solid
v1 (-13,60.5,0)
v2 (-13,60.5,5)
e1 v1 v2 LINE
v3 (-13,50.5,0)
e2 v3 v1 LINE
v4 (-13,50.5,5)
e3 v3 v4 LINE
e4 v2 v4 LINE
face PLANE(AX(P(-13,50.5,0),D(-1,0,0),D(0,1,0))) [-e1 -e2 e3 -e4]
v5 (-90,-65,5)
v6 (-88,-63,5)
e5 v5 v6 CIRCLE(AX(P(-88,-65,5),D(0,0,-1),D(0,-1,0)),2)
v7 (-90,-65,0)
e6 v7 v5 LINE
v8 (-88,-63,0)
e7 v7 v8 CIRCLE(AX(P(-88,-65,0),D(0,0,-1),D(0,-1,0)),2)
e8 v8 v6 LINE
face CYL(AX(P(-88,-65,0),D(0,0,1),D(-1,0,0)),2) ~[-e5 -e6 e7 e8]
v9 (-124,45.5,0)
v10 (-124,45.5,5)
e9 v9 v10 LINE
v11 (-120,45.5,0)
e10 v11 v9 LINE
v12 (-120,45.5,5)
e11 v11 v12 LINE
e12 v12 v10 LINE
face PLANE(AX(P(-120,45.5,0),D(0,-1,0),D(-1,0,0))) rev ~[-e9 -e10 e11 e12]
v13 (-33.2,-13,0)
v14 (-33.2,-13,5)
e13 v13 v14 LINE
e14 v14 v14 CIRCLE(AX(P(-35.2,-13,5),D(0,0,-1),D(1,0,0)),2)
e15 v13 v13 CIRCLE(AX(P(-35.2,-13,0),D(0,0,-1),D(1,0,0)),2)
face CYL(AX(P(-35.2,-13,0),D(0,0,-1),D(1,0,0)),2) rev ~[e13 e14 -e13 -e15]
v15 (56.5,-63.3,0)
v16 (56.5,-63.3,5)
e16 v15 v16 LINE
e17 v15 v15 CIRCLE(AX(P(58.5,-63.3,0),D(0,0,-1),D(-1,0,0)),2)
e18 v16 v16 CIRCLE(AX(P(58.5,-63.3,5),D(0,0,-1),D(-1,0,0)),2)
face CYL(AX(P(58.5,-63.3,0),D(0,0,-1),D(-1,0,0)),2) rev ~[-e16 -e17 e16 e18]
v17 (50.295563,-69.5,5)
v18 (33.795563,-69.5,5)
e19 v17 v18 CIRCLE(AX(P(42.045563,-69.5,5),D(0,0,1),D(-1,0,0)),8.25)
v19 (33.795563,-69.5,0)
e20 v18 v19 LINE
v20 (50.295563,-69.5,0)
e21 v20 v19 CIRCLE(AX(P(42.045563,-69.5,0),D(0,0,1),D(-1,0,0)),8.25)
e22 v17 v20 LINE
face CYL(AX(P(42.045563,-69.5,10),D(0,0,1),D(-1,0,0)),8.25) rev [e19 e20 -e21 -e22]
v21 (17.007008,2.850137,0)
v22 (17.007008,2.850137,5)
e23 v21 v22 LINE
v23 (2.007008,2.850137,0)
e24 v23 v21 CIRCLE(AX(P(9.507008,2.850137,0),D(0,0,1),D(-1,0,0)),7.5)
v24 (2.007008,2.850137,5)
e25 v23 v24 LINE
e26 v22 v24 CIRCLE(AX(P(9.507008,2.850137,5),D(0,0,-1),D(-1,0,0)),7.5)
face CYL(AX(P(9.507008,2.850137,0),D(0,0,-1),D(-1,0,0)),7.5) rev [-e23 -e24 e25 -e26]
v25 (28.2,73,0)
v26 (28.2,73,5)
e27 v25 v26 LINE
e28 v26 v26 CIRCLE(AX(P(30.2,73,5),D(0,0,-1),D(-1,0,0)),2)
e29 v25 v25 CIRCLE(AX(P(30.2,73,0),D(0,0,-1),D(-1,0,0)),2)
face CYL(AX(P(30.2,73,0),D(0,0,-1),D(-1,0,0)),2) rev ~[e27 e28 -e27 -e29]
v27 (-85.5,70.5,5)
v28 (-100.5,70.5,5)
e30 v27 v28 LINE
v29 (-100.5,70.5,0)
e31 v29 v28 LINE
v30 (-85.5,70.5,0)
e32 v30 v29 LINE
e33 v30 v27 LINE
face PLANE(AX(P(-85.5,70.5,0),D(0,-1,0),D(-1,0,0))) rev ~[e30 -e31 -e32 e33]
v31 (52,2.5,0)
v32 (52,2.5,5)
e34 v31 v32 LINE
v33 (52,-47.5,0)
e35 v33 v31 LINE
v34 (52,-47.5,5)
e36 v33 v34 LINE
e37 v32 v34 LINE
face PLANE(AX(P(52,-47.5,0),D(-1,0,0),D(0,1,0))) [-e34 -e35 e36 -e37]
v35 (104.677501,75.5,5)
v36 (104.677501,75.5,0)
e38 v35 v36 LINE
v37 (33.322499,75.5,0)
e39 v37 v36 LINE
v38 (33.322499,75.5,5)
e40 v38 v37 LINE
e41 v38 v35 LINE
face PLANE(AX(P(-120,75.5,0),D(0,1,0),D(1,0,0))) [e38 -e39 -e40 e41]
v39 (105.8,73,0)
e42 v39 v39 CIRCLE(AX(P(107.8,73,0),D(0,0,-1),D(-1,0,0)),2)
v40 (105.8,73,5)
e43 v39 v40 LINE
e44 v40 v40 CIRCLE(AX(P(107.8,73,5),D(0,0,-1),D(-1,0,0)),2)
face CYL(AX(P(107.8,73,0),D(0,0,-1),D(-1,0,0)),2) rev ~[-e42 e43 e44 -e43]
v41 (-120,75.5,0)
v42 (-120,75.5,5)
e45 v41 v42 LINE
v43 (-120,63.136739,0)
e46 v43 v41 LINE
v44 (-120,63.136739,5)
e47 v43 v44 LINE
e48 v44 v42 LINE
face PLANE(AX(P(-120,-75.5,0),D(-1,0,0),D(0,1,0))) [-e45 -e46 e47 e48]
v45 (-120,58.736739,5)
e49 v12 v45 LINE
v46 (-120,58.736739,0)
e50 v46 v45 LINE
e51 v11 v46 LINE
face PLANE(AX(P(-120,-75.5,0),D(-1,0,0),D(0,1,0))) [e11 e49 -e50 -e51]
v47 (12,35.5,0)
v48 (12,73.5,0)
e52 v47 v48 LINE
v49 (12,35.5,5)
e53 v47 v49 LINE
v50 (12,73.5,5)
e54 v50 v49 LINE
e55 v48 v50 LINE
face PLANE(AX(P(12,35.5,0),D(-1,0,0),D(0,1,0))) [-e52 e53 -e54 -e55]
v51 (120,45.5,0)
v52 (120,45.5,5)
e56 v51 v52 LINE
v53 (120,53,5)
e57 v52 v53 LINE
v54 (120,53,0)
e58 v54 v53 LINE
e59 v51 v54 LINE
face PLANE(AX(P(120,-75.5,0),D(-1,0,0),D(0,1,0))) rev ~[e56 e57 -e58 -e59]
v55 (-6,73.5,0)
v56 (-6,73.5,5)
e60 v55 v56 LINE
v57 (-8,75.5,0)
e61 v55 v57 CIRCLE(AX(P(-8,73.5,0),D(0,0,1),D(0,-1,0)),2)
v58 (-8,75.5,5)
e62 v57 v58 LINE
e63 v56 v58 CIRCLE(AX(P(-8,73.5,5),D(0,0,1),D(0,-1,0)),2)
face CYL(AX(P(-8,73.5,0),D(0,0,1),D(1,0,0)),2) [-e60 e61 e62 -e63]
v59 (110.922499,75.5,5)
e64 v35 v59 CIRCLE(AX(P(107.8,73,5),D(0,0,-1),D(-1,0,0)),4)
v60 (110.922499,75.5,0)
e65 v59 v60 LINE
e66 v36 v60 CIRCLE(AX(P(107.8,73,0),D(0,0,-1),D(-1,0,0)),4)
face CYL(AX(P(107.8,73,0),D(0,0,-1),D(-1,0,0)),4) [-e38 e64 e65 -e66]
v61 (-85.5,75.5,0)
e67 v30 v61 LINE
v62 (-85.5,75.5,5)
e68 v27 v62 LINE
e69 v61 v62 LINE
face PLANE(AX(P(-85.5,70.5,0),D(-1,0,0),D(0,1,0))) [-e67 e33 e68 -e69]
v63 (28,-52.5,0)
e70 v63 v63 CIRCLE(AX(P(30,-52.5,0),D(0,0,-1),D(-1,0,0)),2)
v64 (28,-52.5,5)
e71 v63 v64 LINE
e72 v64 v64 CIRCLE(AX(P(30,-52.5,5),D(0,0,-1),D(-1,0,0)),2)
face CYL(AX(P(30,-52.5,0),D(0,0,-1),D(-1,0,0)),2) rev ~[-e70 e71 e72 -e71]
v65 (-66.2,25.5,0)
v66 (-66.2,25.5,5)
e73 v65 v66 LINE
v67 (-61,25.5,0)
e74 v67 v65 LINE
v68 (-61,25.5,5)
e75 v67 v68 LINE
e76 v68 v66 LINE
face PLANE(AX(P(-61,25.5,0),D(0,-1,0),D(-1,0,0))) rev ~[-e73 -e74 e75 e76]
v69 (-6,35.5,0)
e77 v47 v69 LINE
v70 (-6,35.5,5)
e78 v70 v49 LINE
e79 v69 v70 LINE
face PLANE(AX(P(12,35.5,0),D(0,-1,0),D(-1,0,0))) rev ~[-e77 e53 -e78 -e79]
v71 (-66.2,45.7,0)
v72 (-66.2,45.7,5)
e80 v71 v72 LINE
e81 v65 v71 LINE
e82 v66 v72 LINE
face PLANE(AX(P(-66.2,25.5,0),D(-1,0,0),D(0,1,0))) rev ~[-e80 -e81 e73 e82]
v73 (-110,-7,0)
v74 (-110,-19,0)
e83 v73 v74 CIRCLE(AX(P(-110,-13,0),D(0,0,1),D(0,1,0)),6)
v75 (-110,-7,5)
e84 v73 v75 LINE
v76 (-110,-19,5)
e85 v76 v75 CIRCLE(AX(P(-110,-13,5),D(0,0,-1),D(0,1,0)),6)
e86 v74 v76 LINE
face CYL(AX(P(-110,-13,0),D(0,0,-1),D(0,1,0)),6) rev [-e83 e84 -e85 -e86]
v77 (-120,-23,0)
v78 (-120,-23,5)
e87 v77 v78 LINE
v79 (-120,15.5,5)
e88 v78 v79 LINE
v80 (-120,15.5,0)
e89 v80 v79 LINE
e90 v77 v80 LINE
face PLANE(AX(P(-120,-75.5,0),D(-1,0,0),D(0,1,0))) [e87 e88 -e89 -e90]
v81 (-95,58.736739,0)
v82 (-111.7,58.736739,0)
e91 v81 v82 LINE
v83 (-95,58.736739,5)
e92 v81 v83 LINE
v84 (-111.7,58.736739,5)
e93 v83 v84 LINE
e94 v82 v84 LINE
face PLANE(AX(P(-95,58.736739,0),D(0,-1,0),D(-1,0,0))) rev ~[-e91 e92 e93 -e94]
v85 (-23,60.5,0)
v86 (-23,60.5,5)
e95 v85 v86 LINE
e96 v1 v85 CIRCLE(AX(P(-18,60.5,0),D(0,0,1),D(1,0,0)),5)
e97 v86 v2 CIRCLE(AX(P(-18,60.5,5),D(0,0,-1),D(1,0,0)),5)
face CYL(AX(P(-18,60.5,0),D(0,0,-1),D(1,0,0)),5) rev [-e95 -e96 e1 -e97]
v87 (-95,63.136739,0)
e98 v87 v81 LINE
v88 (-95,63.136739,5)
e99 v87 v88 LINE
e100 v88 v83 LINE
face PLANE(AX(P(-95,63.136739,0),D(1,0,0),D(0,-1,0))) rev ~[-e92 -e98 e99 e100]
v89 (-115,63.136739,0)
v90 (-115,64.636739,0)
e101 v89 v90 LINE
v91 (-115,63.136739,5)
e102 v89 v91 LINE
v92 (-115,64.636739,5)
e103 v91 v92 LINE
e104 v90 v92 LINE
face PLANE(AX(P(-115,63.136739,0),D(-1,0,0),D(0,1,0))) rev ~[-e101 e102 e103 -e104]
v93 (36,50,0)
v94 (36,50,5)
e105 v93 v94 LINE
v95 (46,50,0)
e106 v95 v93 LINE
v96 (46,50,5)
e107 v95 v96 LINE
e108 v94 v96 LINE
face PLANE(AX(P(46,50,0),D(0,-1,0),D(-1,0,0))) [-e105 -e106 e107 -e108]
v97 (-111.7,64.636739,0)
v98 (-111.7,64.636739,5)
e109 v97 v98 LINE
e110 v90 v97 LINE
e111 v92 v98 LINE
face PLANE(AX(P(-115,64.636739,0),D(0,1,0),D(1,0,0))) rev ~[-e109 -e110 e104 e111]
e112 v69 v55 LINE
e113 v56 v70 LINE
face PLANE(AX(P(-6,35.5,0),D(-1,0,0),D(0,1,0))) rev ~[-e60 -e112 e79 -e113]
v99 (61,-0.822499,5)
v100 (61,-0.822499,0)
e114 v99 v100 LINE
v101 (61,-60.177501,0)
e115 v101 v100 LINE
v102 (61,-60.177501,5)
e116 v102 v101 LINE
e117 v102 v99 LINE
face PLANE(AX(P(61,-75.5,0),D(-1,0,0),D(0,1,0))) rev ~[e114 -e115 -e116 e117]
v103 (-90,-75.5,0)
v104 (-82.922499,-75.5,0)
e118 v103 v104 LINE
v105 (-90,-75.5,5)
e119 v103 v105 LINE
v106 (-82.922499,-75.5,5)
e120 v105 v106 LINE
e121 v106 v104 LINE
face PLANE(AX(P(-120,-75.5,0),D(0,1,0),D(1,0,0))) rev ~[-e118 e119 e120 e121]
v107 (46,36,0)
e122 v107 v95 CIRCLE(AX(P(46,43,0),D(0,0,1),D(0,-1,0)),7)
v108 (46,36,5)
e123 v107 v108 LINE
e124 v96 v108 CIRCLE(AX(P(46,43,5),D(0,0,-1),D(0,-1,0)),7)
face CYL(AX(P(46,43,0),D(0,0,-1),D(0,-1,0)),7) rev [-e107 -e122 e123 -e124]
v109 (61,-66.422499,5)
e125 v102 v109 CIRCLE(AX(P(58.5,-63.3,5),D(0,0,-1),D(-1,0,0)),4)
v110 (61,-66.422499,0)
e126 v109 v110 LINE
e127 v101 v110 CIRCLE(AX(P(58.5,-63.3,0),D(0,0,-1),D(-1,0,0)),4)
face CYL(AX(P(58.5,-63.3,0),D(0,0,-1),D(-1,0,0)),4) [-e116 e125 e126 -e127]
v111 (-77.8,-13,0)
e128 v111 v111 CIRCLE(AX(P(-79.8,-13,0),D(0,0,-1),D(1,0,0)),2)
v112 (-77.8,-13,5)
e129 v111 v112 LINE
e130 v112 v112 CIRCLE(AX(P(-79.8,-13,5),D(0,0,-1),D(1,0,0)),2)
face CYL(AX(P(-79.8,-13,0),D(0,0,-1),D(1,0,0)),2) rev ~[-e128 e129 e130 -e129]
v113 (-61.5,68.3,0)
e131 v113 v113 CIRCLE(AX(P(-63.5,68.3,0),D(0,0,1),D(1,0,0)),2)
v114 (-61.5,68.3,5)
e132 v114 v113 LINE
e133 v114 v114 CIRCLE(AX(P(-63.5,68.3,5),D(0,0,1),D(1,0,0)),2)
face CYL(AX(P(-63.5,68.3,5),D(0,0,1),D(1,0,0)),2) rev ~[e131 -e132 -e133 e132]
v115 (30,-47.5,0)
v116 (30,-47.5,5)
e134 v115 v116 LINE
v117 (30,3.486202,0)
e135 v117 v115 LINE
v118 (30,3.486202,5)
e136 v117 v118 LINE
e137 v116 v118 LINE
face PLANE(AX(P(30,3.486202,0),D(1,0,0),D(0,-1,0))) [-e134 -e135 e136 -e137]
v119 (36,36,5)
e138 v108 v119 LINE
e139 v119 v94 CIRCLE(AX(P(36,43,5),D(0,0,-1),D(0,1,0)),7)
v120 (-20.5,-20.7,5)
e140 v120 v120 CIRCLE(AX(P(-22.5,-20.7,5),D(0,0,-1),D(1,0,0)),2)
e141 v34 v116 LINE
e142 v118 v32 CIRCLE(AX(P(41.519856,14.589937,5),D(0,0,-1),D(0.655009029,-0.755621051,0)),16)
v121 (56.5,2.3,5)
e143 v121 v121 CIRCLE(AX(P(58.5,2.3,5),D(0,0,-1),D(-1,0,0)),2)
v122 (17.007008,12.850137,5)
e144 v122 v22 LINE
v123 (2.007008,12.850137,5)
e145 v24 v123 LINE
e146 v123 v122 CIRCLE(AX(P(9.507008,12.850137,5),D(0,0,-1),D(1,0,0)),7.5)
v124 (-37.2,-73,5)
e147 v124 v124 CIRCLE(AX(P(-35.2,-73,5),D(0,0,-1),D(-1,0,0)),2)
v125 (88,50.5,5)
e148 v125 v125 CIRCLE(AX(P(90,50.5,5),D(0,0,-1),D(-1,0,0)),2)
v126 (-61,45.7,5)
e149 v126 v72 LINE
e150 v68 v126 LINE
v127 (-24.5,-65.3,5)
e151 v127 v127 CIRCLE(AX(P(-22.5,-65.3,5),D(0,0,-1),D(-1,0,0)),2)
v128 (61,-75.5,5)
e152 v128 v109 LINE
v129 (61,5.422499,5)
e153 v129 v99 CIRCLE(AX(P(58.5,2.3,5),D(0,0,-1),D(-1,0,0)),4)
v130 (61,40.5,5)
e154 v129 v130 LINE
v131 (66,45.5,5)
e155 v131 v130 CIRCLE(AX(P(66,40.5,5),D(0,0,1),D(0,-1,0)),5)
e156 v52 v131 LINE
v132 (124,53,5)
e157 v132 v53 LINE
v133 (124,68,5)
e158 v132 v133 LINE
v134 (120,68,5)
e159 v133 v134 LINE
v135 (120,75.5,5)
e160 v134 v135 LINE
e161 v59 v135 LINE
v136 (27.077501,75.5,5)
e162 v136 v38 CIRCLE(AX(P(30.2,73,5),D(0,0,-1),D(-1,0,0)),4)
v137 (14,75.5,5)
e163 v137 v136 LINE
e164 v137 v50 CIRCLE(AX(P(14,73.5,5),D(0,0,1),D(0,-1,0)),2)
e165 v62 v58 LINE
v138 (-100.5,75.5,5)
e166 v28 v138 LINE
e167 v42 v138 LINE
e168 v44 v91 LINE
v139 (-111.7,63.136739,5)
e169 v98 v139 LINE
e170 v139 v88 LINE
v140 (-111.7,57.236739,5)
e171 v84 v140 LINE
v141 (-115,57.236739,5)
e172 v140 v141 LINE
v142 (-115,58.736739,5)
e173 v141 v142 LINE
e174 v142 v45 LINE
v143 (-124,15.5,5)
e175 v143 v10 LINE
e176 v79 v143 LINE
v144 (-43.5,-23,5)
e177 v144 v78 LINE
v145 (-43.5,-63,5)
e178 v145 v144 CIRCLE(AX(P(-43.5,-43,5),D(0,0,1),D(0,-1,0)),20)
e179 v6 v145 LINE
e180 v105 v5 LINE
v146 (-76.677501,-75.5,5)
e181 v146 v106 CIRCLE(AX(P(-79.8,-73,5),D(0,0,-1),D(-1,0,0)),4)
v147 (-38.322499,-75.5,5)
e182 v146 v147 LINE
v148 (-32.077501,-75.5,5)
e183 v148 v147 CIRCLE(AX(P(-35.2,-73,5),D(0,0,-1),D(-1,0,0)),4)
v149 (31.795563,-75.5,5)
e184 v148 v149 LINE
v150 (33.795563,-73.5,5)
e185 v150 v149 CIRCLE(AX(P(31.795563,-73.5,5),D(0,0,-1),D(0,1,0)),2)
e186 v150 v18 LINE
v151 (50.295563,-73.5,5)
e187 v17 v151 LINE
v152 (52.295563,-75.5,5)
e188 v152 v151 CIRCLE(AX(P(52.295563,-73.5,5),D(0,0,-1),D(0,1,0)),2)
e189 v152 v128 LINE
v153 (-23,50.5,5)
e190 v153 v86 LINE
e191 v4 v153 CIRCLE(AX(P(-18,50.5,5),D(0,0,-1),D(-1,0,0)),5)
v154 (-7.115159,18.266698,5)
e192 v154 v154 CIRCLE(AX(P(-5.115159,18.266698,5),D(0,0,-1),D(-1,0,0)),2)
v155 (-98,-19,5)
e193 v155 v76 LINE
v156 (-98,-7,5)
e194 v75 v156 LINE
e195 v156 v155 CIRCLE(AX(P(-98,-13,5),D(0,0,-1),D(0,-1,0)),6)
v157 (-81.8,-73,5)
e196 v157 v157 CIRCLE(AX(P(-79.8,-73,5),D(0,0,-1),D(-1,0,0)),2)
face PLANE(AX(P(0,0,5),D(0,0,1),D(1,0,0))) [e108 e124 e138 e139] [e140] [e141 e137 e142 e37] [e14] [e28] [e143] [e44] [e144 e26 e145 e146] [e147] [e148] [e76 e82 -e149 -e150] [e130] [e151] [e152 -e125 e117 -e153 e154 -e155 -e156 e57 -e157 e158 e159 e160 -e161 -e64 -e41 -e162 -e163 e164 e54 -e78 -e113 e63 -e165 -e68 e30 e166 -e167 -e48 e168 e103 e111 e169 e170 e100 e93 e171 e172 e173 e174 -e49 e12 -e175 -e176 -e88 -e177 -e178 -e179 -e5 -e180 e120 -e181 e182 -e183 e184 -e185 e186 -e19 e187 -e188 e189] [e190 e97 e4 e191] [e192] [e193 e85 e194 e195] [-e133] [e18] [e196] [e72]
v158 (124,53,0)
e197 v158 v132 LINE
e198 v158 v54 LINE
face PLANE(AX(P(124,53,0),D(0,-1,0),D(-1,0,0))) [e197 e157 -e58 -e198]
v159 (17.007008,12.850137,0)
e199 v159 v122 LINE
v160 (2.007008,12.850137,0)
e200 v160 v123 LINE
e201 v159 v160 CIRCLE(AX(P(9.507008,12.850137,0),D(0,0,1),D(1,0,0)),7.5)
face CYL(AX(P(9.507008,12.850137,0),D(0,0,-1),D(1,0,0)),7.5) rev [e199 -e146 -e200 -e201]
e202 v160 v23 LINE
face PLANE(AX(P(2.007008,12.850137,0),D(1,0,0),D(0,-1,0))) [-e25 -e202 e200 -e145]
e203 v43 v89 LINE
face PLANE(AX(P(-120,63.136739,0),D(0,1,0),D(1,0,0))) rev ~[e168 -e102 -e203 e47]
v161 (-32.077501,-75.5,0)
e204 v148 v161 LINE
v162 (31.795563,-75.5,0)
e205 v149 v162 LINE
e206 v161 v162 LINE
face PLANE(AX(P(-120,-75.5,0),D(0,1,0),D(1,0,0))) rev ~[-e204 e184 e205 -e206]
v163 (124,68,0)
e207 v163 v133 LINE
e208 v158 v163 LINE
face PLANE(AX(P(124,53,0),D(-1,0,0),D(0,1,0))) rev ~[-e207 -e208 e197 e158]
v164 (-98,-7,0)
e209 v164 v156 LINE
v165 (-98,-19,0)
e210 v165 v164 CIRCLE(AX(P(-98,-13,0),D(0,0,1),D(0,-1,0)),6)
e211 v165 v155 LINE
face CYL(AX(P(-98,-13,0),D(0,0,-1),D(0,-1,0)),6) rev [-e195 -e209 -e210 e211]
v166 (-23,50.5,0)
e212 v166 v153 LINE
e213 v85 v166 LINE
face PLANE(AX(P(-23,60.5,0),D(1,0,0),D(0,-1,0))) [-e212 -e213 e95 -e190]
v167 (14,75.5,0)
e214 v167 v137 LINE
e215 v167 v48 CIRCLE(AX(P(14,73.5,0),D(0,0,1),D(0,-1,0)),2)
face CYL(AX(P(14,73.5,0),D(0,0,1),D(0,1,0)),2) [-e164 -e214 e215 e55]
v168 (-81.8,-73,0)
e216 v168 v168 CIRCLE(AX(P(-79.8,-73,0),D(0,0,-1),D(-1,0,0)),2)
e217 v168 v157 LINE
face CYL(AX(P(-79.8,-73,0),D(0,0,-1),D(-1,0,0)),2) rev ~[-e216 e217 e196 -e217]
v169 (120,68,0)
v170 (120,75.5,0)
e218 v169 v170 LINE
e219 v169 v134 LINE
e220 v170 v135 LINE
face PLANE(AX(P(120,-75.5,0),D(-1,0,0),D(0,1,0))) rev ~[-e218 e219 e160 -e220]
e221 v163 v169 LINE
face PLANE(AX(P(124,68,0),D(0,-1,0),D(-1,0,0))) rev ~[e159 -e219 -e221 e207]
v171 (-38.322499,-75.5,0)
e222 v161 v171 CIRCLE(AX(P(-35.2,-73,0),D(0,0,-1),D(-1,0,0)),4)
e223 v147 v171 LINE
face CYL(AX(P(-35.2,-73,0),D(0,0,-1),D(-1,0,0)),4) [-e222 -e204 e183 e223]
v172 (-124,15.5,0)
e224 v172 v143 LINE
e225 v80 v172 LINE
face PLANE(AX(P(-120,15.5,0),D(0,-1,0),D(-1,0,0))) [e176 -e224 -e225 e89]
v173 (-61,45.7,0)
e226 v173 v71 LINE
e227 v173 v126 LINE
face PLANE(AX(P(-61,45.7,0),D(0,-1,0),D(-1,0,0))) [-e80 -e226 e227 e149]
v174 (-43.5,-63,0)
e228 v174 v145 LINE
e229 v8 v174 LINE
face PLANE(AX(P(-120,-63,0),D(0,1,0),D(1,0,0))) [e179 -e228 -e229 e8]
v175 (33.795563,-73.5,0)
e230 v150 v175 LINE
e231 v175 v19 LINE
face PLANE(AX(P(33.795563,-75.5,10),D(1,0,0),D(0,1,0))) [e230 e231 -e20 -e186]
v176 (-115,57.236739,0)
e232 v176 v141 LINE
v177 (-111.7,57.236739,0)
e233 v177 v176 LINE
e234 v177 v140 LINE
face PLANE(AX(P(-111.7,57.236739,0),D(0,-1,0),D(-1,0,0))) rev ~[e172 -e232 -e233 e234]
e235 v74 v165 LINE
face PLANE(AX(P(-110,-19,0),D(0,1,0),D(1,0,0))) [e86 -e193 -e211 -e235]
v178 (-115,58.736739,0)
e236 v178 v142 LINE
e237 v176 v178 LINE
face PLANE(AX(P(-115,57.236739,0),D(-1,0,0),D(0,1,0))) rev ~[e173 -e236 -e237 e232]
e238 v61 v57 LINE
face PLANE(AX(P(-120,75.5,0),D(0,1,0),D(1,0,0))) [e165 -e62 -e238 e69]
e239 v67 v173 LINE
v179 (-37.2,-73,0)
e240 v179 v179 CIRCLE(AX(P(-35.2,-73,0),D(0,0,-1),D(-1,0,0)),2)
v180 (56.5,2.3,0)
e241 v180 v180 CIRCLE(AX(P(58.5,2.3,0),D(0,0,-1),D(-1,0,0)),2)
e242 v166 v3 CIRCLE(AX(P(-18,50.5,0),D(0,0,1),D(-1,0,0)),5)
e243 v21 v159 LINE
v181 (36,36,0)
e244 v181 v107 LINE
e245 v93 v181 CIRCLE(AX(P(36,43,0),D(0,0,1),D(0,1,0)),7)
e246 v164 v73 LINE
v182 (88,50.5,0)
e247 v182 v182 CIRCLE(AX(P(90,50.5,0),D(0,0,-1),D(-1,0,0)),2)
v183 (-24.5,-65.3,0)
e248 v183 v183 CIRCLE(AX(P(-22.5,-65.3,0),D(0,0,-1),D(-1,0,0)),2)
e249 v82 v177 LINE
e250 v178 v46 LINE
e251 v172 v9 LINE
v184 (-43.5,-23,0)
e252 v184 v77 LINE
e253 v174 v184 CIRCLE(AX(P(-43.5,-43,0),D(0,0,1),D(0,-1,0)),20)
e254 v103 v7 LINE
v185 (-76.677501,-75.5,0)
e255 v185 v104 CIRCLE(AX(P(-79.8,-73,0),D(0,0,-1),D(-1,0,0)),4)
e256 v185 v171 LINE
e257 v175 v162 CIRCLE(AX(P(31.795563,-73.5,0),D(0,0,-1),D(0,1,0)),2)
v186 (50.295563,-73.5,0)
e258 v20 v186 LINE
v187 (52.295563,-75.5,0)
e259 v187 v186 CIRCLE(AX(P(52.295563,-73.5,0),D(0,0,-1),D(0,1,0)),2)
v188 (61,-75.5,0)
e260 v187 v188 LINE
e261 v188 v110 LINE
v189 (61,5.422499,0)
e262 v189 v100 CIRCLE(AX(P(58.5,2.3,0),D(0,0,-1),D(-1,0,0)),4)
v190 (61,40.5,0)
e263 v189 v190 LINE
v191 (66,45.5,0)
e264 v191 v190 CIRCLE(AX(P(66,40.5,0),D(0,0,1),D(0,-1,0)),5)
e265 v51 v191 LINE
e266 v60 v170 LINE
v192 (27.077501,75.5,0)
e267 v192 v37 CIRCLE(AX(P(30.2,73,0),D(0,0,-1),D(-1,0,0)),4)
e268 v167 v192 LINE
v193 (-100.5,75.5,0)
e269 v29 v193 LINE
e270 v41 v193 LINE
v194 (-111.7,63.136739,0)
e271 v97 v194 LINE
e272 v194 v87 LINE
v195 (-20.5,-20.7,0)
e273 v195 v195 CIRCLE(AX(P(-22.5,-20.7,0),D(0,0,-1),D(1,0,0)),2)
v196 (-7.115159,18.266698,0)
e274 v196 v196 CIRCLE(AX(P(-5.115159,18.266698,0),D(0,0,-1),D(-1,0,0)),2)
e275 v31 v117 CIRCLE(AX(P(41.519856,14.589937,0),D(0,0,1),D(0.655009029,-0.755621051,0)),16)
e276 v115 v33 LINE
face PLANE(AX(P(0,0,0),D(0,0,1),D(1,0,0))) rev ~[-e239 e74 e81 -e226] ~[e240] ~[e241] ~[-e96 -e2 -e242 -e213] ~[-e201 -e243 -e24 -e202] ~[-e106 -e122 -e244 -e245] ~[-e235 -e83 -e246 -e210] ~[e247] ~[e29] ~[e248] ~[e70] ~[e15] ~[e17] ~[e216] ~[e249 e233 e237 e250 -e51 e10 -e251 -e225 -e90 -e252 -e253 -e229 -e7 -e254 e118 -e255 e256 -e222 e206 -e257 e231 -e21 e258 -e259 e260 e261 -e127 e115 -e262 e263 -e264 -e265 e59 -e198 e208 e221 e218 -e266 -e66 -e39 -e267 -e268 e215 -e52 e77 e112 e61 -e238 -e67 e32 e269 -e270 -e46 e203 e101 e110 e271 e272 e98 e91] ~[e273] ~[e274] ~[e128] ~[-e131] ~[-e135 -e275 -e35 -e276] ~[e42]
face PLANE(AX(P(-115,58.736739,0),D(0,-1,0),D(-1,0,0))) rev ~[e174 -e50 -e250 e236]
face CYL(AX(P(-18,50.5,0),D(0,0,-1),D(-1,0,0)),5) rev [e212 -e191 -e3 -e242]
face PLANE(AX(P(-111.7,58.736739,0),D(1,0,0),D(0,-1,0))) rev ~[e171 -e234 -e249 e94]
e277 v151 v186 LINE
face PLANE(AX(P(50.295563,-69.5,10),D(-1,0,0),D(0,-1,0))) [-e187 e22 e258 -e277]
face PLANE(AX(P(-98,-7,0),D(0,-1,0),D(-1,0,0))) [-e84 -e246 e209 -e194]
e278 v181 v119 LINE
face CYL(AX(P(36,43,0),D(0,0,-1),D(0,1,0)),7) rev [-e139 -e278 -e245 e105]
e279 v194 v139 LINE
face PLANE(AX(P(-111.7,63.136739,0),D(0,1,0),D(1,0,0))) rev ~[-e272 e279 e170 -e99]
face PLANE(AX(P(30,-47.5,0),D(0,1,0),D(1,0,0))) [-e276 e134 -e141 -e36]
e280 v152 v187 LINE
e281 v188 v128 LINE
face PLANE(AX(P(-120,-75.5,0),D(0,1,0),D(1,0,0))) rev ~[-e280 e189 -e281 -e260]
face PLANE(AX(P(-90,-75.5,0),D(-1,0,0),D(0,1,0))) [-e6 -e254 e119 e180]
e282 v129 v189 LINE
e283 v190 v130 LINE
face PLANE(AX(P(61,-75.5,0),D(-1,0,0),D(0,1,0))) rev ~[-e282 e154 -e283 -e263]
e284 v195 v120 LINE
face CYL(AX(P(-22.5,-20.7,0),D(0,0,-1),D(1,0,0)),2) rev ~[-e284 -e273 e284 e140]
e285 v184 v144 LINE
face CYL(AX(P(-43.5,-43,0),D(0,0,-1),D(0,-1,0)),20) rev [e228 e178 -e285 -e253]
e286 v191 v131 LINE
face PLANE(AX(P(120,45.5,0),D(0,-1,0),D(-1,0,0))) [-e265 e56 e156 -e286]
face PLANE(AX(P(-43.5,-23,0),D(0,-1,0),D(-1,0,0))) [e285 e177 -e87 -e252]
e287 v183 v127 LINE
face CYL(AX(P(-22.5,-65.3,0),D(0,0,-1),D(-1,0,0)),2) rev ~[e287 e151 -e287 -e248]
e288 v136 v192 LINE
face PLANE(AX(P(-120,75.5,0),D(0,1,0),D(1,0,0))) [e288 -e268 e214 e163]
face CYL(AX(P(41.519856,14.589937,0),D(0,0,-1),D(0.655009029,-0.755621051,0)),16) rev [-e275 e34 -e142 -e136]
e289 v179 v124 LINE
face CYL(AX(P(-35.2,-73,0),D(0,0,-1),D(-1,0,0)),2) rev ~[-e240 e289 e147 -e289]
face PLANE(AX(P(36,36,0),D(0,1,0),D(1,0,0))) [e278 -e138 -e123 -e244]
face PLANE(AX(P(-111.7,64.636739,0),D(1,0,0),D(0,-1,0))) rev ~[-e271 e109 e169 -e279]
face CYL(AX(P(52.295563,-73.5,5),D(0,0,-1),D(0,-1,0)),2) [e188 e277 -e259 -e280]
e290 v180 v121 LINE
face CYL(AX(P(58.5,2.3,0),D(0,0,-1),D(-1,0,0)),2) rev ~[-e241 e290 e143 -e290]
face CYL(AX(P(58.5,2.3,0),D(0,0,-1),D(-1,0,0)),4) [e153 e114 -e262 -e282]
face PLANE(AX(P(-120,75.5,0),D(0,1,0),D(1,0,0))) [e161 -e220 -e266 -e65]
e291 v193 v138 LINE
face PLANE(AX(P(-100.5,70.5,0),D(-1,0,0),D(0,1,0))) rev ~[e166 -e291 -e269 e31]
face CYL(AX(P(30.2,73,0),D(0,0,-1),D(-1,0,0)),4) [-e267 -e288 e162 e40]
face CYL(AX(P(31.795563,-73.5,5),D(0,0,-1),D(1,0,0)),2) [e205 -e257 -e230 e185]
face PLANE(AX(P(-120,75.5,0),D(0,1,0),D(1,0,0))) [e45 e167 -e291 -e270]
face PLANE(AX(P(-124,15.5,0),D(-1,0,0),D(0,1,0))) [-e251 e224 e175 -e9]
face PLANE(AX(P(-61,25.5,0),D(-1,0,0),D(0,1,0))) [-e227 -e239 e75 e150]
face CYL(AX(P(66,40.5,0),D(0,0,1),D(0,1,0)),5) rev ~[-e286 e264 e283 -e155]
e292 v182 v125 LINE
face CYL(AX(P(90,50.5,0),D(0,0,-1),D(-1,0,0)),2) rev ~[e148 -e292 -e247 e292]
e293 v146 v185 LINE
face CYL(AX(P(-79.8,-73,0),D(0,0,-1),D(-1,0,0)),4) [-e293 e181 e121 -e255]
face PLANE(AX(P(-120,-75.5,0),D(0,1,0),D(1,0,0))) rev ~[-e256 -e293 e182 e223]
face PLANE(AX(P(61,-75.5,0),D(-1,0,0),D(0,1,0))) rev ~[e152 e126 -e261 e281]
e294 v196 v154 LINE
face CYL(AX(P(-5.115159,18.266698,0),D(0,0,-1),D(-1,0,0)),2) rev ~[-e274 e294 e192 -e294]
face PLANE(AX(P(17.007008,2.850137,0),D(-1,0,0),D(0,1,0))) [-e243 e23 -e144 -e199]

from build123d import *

# Parameters (mm, degrees)
SKETCH1_W                = 240
SKETCH1_H                = 151
BOSS_EXTRUDE1_DEPTH      = 5
SKETCH5_R                = 2
CUT_EXTRUDE1_DEPTH       = 5
SKETCH6_R                = 4
SKETCH6_R_2              = 2
BOSS_EXTRUDE2_DEPTH      = 5
CUT_EXTRUDE2_DEPTH       = 5
SKETCH8_W                = 30
SKETCH8_H                = 12.5
CUT_EXTRUDE3_DEPTH       = 5
SKETCH9_W                = 59
SKETCH9_H                = 121
CUT_EXTRUDE4_DEPTH       = 5
SKETCH12_W               = 18
SKETCH12_H               = 40
CUT_EXTRUDE7_DEPTH       = 10
SKETCH15_R               = 2
CUT_EXTRUDE9_DEPTH       = 5
SKETCH16_W               = 5.2
SKETCH16_H               = 20.2
CUT_EXTRUDE10_DEPTH      = 5
CUT_EXTRUDE11_DEPTH      = 10
CUT_EXTRUDE13_DEPTH      = 143.667445481
CUT_EXTRUDE13_DEPTH_BACK = 10
SKETCH23_R               = 2
CUT_EXTRUDE16_DEPTH      = 5
SKETCH24_R               = 4
SKETCH24_R_2             = 2
BOSS_EXTRUDE4_DEPTH      = 5
CUT_EXTRUDE19_DEPTH      = 10
SKETCH32_W               = 4
SKETCH32_H               = 30
SKETCH32_H_2             = 15
BOSS_EXTRUDE6_DEPTH      = 5
FILLET1_R                = 5
FILLET2_R                = 2
CUT_EXTRUDE22_DEPTH      = 5
SKETCH37_R               = 2
CUT_EXTRUDE25_DEPTH      = 10
SKETCH38_R               = 2
CUT_EXTRUDE26_DEPTH      = 10
CUT_EXTRUDE29_DEPTH      = 10
SKETCH43_R               = 2
CUT_EXTRUDE30_DEPTH      = 10
SKETCH44_R               = 4
SKETCH44_R_2             = 2
BOSS_EXTRUDE7_DEPTH      = 5
CUT_EXTRUDE31_DEPTH      = 10
CUT_EXTRUDE32_DEPTH      = 10
SKETCH47_R               = 2
CUT_EXTRUDE33_DEPTH      = 10
SKETCH48_W               = 15
SKETCH48_H               = 5
CUT_EXTRUDE34_DEPTH      = 5


with BuildPart() as part:
    # Sketch1 → Boss-Extrude1 (new body)
    with BuildSketch(Plane.XY):
        Rectangle(SKETCH1_W, SKETCH1_H)
    extrude(amount=BOSS_EXTRUDE1_DEPTH)

    # Sketch5 → Cut-Extrude1 (cut)
    with BuildSketch(Plane(origin=(0, 0, 0), x_dir=(-1, 0, 0), z_dir=(0, 0, -1))):
        with Locations((35.2, -73)):
            Circle(SKETCH5_R)
        with Locations((79.8, -73)):
            Circle(SKETCH5_R)
        with Locations((22.5, -65.3)):
            Circle(SKETCH5_R)
        with Locations(Location((22.5, -20.7, 0), (0, 0, 180))):
            Circle(SKETCH5_R)
        with Locations(Location((79.8, -13, 0), (0, 0, 180))):
            Circle(SKETCH5_R)
        with Locations(Location((35.2, -13, 0), (0, 0, 180))):
            Circle(SKETCH5_R)
    extrude(amount=-CUT_EXTRUDE1_DEPTH, mode=Mode.SUBTRACT)

    # Sketch6 → Boss-Extrude2 (add)
    # profile 1 of 2: a face of its own
    with BuildSketch(Plane(origin=(0, 0, 0), x_dir=(-1, 0, 0), z_dir=(0, 0, -1))):
        with Locations((35.2, -73)):
            Circle(SKETCH6_R)
        with Locations((35.2, -73)):
            Circle(SKETCH6_R_2, mode=Mode.SUBTRACT)
    # profile 2 of 2: a face of its own
    with BuildSketch(Plane(origin=(0, 0, 0), x_dir=(-1, 0, 0), z_dir=(0, 0, -1))):
        with Locations((79.8, -73)):
            Circle(SKETCH6_R)
        with Locations((79.8, -73)):
            Circle(SKETCH6_R_2, mode=Mode.SUBTRACT)
    extrude(amount=-BOSS_EXTRUDE2_DEPTH)

    # Sketch7 → Cut-Extrude2 (cut)
    with BuildSketch(Plane(origin=(0, 0, 0), x_dir=(-1, 0, 0), z_dir=(0, 0, -1))):
        with BuildLine():
            Line((120, -63), (43.5, -63))
            ThreePointArc((43.5, -63), (23.5, -43), (43.5, -23))
            Line((43.5, -23), (120, -23))
            Line((120, -23), (120, -63))
        make_face()
    extrude(amount=-CUT_EXTRUDE2_DEPTH, mode=Mode.SUBTRACT)

    # Sketch8 → Cut-Extrude3 (cut)
    with BuildSketch(Plane(origin=(0, 0, 0), x_dir=(-1, 0, 0), z_dir=(0, 0, -1))):
        with Locations((105, -69.25)):
            Rectangle(SKETCH8_W, SKETCH8_H)
    extrude(amount=-CUT_EXTRUDE3_DEPTH, mode=Mode.SUBTRACT)

    # Sketch9 → Cut-Extrude4 (cut)
    with BuildSketch(Plane(origin=(0, 0, 0), x_dir=(-1, 0, 0), z_dir=(0, 0, -1))):
        with Locations((-90.5, -15)):
            Rectangle(SKETCH9_W, SKETCH9_H)
    extrude(amount=-CUT_EXTRUDE4_DEPTH, mode=Mode.SUBTRACT)

    # Sketch12 → Cut-Extrude7 (cut)
    with BuildSketch(Plane(origin=(0, 0, 0), x_dir=(-1, 0, 0), z_dir=(0, 0, -1))):
        with Locations((-3, 55.5)):
            Rectangle(SKETCH12_W, SKETCH12_H)
    extrude(amount=-CUT_EXTRUDE7_DEPTH, mode=Mode.SUBTRACT)

    # Sketch15 → Cut-Extrude9 (cut)
    with BuildSketch(Plane.XY.offset(5)):
        with Locations((-63.5, 68.3)):
            Circle(SKETCH15_R)
    extrude(amount=-CUT_EXTRUDE9_DEPTH, mode=Mode.SUBTRACT)

    # Sketch16 → Cut-Extrude10 (cut)
    with BuildSketch(Plane(origin=(0, 0, 0), x_dir=(-1, 0, 0), z_dir=(0, 0, -1))):
        with Locations((63.6, 35.6)):
            Rectangle(SKETCH16_W, SKETCH16_H)
    extrude(amount=-CUT_EXTRUDE10_DEPTH, mode=Mode.SUBTRACT)

    # Sketch18 → Cut-Extrude11 (cut)
    with BuildSketch(Plane(origin=(0, 0, 0), x_dir=(-1, 0, 0), z_dir=(0, 0, -1))):
        with BuildLine():
            Line((-2.007007892, 12.8501367), (-2.007007892, 2.8501367))
            ThreePointArc((-2.007007892, 2.8501367), (-9.507007892, -4.6498633), (-17.007007892, 2.8501367))
            Line((-17.007007892, 2.8501367), (-17.007007892, 12.8501367))
            ThreePointArc((-17.007007892, 12.8501367), (-9.507007892, 20.3501367), (-2.007007892, 12.8501367))
        make_face()
    extrude(amount=-CUT_EXTRUDE11_DEPTH, mode=Mode.SUBTRACT)

    # Sketch20 → Cut-Extrude13 (cut, two sides: drawn at the far end of the back side and taken through both)
    with BuildSketch(Plane(origin=(0, 0, 0), x_dir=(-1, 0, 0), z_dir=(0, 0, -1)).offset(-CUT_EXTRUDE13_DEPTH_BACK)):
        with BuildLine():
            ThreePointArc((-33.7955627, -69.5), (-42.0455627, -61.25), (-50.2955627, -69.5))
            Line((-50.2955627, -69.5), (-50.2955627, -75.5))
            Line((-50.2955627, -75.5), (-33.7955627, -75.5))
            Line((-33.7955627, -75.5), (-33.7955627, -69.5))
        make_face()
    extrude(amount=CUT_EXTRUDE13_DEPTH + CUT_EXTRUDE13_DEPTH_BACK, mode=Mode.SUBTRACT)

    # Sketch23 → Cut-Extrude16 (cut)
    with BuildSketch(Plane(origin=(0, 0, 0), x_dir=(-1, 0, 0), z_dir=(0, 0, -1))):
        with Locations((-107.8, 73)):
            Circle(SKETCH23_R)
        with Locations((-30.2, 73)):
            Circle(SKETCH23_R)
    extrude(amount=-CUT_EXTRUDE16_DEPTH, mode=Mode.SUBTRACT)

    # Sketch24 → Boss-Extrude4 (add)
    # profile 1 of 2: a face of its own
    with BuildSketch(Plane(origin=(0, 0, 0), x_dir=(-1, 0, 0), z_dir=(0, 0, -1))):
        with Locations((-107.8, 73)):
            Circle(SKETCH24_R)
        with Locations((-107.8, 73)):
            Circle(SKETCH24_R_2, mode=Mode.SUBTRACT)
    # profile 2 of 2: a face of its own
    with BuildSketch(Plane(origin=(0, 0, 0), x_dir=(-1, 0, 0), z_dir=(0, 0, -1))):
        with Locations((-30.2, 73)):
            Circle(SKETCH24_R)
        with Locations((-30.2, 73)):
            Circle(SKETCH24_R_2, mode=Mode.SUBTRACT)
    extrude(amount=-BOSS_EXTRUDE4_DEPTH)

    # Sketch30 → Cut-Extrude19 (cut)
    with BuildSketch(Plane(origin=(0, 0, 0), x_dir=(-1, 0, 0), z_dir=(0, 0, -1))):
        with BuildLine():
            Line((110, -19), (98, -19))
            ThreePointArc((98, -19), (92, -13), (98, -7))
            Line((98, -7), (110, -7))
            ThreePointArc((110, -7), (116, -13), (110, -19))
        make_face()
    extrude(amount=-CUT_EXTRUDE19_DEPTH, mode=Mode.SUBTRACT)

    # Sketch32 → Boss-Extrude6 (add)
    with BuildSketch(Plane(origin=(0, 0, 0), x_dir=(-1, 0, 0), z_dir=(0, 0, -1))):
        with Locations((122, 30.5)):
            Rectangle(SKETCH32_W, SKETCH32_H)
        with Locations((-122, 60.5)):
            Rectangle(SKETCH32_W, SKETCH32_H_2)
    extrude(amount=-BOSS_EXTRUDE6_DEPTH)

    # Fillet1
    fillet1_edges = [part.edges().sort_by_distance(p)[0] for p in [
        (61, 45.5, 2.5),
    ]]
    fillet(fillet1_edges, radius=FILLET1_R)

    # Fillet2
    fillet2_edges = [part.edges().sort_by_distance(p)[0] for p in [
        (12, 75.5, 2.5),
        (-6, 75.5, 2.5),
        (33.7955627, -75.5, 2.5),
        (50.2955627, -75.5, 2.5),
        (-90, -63, 2.5),
    ]]
    fillet(fillet2_edges, radius=FILLET2_R)

    # Sketch34 → Cut-Extrude22 (cut)
    with BuildSketch(Plane(origin=(0, 0, 0), x_dir=(-1, 0, 0), z_dir=(0, 0, -1))):
        Polygon((115, 58.736739195), (120, 58.736739195), (120, 63.136739195), (115, 63.136739195), (115, 64.636739195), (111.7, 64.636739195), (111.7, 63.136739195), (95, 63.136739195), (95, 58.736739195), (111.7, 58.736739195), (111.7, 57.236739195), (115, 57.236739195), align=None)
    extrude(amount=-CUT_EXTRUDE22_DEPTH, mode=Mode.SUBTRACT)

    # Sketch37 → Cut-Extrude25 (cut)
    with BuildSketch(Plane(origin=(0, 0, 0), x_dir=(-1, 0, 0), z_dir=(0, 0, -1))):
        with Locations((-30, -52.5)):
            Circle(SKETCH37_R)
    extrude(amount=-CUT_EXTRUDE25_DEPTH, mode=Mode.SUBTRACT)

    # Sketch38 → Cut-Extrude26 (cut)
    with BuildSketch(Plane(origin=(0, 0, 0), x_dir=(-1, 0, 0), z_dir=(0, 0, -1))):
        with Locations((5.115159436, 18.266698226)):
            Circle(SKETCH38_R)
    extrude(amount=-CUT_EXTRUDE26_DEPTH, mode=Mode.SUBTRACT)

    # Sketch42 → Cut-Extrude29 (cut)
    with BuildSketch(Plane(origin=(0, 0, 0), x_dir=(-1, 0, 0), z_dir=(0, 0, -1))):
        with BuildLine():
            Line((-52, -47.5), (-52, 2.5))
            ThreePointArc((-52, 2.5), (-42.236373755, 30.573885063), (-30, 3.486201934))
            Line((-30, 3.486201934), (-30, -47.5))
            Line((-30, -47.5), (-52, -47.5))
        make_face()
    extrude(amount=-CUT_EXTRUDE29_DEPTH, mode=Mode.SUBTRACT)

    # Sketch43 → Cut-Extrude30 (cut)
    with BuildSketch(Plane(origin=(0, 0, 0), x_dir=(-1, 0, 0), z_dir=(0, 0, -1))):
        with Locations((-58.5, 2.3)):
            Circle(SKETCH43_R)
        with Locations((-58.5, -63.3)):
            Circle(SKETCH43_R)
    extrude(amount=-CUT_EXTRUDE30_DEPTH, mode=Mode.SUBTRACT)

    # Sketch44 → Boss-Extrude7 (add)
    # profile 1 of 2: a face of its own
    with BuildSketch(Plane(origin=(0, 0, 0), x_dir=(-1, 0, 0), z_dir=(0, 0, -1))):
        with Locations((-58.5, 2.3)):
            Circle(SKETCH44_R)
        with Locations((-58.5, 2.3)):
            Circle(SKETCH44_R_2, mode=Mode.SUBTRACT)
    # profile 2 of 2: a face of its own
    with BuildSketch(Plane(origin=(0, 0, 0), x_dir=(-1, 0, 0), z_dir=(0, 0, -1))):
        with Locations((-58.5, -63.3)):
            Circle(SKETCH44_R)
        with Locations((-58.5, -63.3)):
            Circle(SKETCH44_R_2, mode=Mode.SUBTRACT)
    extrude(amount=-BOSS_EXTRUDE7_DEPTH)

    # Sketch45 → Cut-Extrude31 (cut)
    with BuildSketch(Plane(origin=(0, 0, 0), x_dir=(-1, 0, 0), z_dir=(0, 0, -1))):
        with BuildLine():
            Line((23, 60.5), (23, 50.5))
            ThreePointArc((23, 50.5), (18, 45.5), (13, 50.5))
            Line((13, 50.5), (13, 60.5))
            ThreePointArc((13, 60.5), (18, 65.5), (23, 60.5))
        make_face()
    extrude(amount=-CUT_EXTRUDE31_DEPTH, mode=Mode.SUBTRACT)

    # Sketch46 → Cut-Extrude32 (cut)
    with BuildSketch(Plane(origin=(0, 0, 0), x_dir=(-1, 0, 0), z_dir=(0, 0, -1))):
        with BuildLine():
            Line((-46, 50), (-36, 50))
            ThreePointArc((-36, 50), (-29, 43), (-36, 36))
            Line((-36, 36), (-46, 36))
            ThreePointArc((-46, 36), (-53, 43), (-46, 50))
        make_face()
    extrude(amount=-CUT_EXTRUDE32_DEPTH, mode=Mode.SUBTRACT)

    # Sketch47 → Cut-Extrude33 (cut)
    with BuildSketch(Plane(origin=(0, 0, 0), x_dir=(-1, 0, 0), z_dir=(0, 0, -1))):
        with Locations((-90, 50.5)):
            Circle(SKETCH47_R)
    extrude(amount=-CUT_EXTRUDE33_DEPTH, mode=Mode.SUBTRACT)

    # Sketch48 → Cut-Extrude34 (cut)
    with BuildSketch(Plane(origin=(0, 0, 0), x_dir=(-1, 0, 0), z_dir=(0, 0, -1))):
        with Locations((93, 73)):
            Rectangle(SKETCH48_W, SKETCH48_H)
    extrude(amount=-CUT_EXTRUDE34_DEPTH, mode=Mode.SUBTRACT)


solid = part.part
